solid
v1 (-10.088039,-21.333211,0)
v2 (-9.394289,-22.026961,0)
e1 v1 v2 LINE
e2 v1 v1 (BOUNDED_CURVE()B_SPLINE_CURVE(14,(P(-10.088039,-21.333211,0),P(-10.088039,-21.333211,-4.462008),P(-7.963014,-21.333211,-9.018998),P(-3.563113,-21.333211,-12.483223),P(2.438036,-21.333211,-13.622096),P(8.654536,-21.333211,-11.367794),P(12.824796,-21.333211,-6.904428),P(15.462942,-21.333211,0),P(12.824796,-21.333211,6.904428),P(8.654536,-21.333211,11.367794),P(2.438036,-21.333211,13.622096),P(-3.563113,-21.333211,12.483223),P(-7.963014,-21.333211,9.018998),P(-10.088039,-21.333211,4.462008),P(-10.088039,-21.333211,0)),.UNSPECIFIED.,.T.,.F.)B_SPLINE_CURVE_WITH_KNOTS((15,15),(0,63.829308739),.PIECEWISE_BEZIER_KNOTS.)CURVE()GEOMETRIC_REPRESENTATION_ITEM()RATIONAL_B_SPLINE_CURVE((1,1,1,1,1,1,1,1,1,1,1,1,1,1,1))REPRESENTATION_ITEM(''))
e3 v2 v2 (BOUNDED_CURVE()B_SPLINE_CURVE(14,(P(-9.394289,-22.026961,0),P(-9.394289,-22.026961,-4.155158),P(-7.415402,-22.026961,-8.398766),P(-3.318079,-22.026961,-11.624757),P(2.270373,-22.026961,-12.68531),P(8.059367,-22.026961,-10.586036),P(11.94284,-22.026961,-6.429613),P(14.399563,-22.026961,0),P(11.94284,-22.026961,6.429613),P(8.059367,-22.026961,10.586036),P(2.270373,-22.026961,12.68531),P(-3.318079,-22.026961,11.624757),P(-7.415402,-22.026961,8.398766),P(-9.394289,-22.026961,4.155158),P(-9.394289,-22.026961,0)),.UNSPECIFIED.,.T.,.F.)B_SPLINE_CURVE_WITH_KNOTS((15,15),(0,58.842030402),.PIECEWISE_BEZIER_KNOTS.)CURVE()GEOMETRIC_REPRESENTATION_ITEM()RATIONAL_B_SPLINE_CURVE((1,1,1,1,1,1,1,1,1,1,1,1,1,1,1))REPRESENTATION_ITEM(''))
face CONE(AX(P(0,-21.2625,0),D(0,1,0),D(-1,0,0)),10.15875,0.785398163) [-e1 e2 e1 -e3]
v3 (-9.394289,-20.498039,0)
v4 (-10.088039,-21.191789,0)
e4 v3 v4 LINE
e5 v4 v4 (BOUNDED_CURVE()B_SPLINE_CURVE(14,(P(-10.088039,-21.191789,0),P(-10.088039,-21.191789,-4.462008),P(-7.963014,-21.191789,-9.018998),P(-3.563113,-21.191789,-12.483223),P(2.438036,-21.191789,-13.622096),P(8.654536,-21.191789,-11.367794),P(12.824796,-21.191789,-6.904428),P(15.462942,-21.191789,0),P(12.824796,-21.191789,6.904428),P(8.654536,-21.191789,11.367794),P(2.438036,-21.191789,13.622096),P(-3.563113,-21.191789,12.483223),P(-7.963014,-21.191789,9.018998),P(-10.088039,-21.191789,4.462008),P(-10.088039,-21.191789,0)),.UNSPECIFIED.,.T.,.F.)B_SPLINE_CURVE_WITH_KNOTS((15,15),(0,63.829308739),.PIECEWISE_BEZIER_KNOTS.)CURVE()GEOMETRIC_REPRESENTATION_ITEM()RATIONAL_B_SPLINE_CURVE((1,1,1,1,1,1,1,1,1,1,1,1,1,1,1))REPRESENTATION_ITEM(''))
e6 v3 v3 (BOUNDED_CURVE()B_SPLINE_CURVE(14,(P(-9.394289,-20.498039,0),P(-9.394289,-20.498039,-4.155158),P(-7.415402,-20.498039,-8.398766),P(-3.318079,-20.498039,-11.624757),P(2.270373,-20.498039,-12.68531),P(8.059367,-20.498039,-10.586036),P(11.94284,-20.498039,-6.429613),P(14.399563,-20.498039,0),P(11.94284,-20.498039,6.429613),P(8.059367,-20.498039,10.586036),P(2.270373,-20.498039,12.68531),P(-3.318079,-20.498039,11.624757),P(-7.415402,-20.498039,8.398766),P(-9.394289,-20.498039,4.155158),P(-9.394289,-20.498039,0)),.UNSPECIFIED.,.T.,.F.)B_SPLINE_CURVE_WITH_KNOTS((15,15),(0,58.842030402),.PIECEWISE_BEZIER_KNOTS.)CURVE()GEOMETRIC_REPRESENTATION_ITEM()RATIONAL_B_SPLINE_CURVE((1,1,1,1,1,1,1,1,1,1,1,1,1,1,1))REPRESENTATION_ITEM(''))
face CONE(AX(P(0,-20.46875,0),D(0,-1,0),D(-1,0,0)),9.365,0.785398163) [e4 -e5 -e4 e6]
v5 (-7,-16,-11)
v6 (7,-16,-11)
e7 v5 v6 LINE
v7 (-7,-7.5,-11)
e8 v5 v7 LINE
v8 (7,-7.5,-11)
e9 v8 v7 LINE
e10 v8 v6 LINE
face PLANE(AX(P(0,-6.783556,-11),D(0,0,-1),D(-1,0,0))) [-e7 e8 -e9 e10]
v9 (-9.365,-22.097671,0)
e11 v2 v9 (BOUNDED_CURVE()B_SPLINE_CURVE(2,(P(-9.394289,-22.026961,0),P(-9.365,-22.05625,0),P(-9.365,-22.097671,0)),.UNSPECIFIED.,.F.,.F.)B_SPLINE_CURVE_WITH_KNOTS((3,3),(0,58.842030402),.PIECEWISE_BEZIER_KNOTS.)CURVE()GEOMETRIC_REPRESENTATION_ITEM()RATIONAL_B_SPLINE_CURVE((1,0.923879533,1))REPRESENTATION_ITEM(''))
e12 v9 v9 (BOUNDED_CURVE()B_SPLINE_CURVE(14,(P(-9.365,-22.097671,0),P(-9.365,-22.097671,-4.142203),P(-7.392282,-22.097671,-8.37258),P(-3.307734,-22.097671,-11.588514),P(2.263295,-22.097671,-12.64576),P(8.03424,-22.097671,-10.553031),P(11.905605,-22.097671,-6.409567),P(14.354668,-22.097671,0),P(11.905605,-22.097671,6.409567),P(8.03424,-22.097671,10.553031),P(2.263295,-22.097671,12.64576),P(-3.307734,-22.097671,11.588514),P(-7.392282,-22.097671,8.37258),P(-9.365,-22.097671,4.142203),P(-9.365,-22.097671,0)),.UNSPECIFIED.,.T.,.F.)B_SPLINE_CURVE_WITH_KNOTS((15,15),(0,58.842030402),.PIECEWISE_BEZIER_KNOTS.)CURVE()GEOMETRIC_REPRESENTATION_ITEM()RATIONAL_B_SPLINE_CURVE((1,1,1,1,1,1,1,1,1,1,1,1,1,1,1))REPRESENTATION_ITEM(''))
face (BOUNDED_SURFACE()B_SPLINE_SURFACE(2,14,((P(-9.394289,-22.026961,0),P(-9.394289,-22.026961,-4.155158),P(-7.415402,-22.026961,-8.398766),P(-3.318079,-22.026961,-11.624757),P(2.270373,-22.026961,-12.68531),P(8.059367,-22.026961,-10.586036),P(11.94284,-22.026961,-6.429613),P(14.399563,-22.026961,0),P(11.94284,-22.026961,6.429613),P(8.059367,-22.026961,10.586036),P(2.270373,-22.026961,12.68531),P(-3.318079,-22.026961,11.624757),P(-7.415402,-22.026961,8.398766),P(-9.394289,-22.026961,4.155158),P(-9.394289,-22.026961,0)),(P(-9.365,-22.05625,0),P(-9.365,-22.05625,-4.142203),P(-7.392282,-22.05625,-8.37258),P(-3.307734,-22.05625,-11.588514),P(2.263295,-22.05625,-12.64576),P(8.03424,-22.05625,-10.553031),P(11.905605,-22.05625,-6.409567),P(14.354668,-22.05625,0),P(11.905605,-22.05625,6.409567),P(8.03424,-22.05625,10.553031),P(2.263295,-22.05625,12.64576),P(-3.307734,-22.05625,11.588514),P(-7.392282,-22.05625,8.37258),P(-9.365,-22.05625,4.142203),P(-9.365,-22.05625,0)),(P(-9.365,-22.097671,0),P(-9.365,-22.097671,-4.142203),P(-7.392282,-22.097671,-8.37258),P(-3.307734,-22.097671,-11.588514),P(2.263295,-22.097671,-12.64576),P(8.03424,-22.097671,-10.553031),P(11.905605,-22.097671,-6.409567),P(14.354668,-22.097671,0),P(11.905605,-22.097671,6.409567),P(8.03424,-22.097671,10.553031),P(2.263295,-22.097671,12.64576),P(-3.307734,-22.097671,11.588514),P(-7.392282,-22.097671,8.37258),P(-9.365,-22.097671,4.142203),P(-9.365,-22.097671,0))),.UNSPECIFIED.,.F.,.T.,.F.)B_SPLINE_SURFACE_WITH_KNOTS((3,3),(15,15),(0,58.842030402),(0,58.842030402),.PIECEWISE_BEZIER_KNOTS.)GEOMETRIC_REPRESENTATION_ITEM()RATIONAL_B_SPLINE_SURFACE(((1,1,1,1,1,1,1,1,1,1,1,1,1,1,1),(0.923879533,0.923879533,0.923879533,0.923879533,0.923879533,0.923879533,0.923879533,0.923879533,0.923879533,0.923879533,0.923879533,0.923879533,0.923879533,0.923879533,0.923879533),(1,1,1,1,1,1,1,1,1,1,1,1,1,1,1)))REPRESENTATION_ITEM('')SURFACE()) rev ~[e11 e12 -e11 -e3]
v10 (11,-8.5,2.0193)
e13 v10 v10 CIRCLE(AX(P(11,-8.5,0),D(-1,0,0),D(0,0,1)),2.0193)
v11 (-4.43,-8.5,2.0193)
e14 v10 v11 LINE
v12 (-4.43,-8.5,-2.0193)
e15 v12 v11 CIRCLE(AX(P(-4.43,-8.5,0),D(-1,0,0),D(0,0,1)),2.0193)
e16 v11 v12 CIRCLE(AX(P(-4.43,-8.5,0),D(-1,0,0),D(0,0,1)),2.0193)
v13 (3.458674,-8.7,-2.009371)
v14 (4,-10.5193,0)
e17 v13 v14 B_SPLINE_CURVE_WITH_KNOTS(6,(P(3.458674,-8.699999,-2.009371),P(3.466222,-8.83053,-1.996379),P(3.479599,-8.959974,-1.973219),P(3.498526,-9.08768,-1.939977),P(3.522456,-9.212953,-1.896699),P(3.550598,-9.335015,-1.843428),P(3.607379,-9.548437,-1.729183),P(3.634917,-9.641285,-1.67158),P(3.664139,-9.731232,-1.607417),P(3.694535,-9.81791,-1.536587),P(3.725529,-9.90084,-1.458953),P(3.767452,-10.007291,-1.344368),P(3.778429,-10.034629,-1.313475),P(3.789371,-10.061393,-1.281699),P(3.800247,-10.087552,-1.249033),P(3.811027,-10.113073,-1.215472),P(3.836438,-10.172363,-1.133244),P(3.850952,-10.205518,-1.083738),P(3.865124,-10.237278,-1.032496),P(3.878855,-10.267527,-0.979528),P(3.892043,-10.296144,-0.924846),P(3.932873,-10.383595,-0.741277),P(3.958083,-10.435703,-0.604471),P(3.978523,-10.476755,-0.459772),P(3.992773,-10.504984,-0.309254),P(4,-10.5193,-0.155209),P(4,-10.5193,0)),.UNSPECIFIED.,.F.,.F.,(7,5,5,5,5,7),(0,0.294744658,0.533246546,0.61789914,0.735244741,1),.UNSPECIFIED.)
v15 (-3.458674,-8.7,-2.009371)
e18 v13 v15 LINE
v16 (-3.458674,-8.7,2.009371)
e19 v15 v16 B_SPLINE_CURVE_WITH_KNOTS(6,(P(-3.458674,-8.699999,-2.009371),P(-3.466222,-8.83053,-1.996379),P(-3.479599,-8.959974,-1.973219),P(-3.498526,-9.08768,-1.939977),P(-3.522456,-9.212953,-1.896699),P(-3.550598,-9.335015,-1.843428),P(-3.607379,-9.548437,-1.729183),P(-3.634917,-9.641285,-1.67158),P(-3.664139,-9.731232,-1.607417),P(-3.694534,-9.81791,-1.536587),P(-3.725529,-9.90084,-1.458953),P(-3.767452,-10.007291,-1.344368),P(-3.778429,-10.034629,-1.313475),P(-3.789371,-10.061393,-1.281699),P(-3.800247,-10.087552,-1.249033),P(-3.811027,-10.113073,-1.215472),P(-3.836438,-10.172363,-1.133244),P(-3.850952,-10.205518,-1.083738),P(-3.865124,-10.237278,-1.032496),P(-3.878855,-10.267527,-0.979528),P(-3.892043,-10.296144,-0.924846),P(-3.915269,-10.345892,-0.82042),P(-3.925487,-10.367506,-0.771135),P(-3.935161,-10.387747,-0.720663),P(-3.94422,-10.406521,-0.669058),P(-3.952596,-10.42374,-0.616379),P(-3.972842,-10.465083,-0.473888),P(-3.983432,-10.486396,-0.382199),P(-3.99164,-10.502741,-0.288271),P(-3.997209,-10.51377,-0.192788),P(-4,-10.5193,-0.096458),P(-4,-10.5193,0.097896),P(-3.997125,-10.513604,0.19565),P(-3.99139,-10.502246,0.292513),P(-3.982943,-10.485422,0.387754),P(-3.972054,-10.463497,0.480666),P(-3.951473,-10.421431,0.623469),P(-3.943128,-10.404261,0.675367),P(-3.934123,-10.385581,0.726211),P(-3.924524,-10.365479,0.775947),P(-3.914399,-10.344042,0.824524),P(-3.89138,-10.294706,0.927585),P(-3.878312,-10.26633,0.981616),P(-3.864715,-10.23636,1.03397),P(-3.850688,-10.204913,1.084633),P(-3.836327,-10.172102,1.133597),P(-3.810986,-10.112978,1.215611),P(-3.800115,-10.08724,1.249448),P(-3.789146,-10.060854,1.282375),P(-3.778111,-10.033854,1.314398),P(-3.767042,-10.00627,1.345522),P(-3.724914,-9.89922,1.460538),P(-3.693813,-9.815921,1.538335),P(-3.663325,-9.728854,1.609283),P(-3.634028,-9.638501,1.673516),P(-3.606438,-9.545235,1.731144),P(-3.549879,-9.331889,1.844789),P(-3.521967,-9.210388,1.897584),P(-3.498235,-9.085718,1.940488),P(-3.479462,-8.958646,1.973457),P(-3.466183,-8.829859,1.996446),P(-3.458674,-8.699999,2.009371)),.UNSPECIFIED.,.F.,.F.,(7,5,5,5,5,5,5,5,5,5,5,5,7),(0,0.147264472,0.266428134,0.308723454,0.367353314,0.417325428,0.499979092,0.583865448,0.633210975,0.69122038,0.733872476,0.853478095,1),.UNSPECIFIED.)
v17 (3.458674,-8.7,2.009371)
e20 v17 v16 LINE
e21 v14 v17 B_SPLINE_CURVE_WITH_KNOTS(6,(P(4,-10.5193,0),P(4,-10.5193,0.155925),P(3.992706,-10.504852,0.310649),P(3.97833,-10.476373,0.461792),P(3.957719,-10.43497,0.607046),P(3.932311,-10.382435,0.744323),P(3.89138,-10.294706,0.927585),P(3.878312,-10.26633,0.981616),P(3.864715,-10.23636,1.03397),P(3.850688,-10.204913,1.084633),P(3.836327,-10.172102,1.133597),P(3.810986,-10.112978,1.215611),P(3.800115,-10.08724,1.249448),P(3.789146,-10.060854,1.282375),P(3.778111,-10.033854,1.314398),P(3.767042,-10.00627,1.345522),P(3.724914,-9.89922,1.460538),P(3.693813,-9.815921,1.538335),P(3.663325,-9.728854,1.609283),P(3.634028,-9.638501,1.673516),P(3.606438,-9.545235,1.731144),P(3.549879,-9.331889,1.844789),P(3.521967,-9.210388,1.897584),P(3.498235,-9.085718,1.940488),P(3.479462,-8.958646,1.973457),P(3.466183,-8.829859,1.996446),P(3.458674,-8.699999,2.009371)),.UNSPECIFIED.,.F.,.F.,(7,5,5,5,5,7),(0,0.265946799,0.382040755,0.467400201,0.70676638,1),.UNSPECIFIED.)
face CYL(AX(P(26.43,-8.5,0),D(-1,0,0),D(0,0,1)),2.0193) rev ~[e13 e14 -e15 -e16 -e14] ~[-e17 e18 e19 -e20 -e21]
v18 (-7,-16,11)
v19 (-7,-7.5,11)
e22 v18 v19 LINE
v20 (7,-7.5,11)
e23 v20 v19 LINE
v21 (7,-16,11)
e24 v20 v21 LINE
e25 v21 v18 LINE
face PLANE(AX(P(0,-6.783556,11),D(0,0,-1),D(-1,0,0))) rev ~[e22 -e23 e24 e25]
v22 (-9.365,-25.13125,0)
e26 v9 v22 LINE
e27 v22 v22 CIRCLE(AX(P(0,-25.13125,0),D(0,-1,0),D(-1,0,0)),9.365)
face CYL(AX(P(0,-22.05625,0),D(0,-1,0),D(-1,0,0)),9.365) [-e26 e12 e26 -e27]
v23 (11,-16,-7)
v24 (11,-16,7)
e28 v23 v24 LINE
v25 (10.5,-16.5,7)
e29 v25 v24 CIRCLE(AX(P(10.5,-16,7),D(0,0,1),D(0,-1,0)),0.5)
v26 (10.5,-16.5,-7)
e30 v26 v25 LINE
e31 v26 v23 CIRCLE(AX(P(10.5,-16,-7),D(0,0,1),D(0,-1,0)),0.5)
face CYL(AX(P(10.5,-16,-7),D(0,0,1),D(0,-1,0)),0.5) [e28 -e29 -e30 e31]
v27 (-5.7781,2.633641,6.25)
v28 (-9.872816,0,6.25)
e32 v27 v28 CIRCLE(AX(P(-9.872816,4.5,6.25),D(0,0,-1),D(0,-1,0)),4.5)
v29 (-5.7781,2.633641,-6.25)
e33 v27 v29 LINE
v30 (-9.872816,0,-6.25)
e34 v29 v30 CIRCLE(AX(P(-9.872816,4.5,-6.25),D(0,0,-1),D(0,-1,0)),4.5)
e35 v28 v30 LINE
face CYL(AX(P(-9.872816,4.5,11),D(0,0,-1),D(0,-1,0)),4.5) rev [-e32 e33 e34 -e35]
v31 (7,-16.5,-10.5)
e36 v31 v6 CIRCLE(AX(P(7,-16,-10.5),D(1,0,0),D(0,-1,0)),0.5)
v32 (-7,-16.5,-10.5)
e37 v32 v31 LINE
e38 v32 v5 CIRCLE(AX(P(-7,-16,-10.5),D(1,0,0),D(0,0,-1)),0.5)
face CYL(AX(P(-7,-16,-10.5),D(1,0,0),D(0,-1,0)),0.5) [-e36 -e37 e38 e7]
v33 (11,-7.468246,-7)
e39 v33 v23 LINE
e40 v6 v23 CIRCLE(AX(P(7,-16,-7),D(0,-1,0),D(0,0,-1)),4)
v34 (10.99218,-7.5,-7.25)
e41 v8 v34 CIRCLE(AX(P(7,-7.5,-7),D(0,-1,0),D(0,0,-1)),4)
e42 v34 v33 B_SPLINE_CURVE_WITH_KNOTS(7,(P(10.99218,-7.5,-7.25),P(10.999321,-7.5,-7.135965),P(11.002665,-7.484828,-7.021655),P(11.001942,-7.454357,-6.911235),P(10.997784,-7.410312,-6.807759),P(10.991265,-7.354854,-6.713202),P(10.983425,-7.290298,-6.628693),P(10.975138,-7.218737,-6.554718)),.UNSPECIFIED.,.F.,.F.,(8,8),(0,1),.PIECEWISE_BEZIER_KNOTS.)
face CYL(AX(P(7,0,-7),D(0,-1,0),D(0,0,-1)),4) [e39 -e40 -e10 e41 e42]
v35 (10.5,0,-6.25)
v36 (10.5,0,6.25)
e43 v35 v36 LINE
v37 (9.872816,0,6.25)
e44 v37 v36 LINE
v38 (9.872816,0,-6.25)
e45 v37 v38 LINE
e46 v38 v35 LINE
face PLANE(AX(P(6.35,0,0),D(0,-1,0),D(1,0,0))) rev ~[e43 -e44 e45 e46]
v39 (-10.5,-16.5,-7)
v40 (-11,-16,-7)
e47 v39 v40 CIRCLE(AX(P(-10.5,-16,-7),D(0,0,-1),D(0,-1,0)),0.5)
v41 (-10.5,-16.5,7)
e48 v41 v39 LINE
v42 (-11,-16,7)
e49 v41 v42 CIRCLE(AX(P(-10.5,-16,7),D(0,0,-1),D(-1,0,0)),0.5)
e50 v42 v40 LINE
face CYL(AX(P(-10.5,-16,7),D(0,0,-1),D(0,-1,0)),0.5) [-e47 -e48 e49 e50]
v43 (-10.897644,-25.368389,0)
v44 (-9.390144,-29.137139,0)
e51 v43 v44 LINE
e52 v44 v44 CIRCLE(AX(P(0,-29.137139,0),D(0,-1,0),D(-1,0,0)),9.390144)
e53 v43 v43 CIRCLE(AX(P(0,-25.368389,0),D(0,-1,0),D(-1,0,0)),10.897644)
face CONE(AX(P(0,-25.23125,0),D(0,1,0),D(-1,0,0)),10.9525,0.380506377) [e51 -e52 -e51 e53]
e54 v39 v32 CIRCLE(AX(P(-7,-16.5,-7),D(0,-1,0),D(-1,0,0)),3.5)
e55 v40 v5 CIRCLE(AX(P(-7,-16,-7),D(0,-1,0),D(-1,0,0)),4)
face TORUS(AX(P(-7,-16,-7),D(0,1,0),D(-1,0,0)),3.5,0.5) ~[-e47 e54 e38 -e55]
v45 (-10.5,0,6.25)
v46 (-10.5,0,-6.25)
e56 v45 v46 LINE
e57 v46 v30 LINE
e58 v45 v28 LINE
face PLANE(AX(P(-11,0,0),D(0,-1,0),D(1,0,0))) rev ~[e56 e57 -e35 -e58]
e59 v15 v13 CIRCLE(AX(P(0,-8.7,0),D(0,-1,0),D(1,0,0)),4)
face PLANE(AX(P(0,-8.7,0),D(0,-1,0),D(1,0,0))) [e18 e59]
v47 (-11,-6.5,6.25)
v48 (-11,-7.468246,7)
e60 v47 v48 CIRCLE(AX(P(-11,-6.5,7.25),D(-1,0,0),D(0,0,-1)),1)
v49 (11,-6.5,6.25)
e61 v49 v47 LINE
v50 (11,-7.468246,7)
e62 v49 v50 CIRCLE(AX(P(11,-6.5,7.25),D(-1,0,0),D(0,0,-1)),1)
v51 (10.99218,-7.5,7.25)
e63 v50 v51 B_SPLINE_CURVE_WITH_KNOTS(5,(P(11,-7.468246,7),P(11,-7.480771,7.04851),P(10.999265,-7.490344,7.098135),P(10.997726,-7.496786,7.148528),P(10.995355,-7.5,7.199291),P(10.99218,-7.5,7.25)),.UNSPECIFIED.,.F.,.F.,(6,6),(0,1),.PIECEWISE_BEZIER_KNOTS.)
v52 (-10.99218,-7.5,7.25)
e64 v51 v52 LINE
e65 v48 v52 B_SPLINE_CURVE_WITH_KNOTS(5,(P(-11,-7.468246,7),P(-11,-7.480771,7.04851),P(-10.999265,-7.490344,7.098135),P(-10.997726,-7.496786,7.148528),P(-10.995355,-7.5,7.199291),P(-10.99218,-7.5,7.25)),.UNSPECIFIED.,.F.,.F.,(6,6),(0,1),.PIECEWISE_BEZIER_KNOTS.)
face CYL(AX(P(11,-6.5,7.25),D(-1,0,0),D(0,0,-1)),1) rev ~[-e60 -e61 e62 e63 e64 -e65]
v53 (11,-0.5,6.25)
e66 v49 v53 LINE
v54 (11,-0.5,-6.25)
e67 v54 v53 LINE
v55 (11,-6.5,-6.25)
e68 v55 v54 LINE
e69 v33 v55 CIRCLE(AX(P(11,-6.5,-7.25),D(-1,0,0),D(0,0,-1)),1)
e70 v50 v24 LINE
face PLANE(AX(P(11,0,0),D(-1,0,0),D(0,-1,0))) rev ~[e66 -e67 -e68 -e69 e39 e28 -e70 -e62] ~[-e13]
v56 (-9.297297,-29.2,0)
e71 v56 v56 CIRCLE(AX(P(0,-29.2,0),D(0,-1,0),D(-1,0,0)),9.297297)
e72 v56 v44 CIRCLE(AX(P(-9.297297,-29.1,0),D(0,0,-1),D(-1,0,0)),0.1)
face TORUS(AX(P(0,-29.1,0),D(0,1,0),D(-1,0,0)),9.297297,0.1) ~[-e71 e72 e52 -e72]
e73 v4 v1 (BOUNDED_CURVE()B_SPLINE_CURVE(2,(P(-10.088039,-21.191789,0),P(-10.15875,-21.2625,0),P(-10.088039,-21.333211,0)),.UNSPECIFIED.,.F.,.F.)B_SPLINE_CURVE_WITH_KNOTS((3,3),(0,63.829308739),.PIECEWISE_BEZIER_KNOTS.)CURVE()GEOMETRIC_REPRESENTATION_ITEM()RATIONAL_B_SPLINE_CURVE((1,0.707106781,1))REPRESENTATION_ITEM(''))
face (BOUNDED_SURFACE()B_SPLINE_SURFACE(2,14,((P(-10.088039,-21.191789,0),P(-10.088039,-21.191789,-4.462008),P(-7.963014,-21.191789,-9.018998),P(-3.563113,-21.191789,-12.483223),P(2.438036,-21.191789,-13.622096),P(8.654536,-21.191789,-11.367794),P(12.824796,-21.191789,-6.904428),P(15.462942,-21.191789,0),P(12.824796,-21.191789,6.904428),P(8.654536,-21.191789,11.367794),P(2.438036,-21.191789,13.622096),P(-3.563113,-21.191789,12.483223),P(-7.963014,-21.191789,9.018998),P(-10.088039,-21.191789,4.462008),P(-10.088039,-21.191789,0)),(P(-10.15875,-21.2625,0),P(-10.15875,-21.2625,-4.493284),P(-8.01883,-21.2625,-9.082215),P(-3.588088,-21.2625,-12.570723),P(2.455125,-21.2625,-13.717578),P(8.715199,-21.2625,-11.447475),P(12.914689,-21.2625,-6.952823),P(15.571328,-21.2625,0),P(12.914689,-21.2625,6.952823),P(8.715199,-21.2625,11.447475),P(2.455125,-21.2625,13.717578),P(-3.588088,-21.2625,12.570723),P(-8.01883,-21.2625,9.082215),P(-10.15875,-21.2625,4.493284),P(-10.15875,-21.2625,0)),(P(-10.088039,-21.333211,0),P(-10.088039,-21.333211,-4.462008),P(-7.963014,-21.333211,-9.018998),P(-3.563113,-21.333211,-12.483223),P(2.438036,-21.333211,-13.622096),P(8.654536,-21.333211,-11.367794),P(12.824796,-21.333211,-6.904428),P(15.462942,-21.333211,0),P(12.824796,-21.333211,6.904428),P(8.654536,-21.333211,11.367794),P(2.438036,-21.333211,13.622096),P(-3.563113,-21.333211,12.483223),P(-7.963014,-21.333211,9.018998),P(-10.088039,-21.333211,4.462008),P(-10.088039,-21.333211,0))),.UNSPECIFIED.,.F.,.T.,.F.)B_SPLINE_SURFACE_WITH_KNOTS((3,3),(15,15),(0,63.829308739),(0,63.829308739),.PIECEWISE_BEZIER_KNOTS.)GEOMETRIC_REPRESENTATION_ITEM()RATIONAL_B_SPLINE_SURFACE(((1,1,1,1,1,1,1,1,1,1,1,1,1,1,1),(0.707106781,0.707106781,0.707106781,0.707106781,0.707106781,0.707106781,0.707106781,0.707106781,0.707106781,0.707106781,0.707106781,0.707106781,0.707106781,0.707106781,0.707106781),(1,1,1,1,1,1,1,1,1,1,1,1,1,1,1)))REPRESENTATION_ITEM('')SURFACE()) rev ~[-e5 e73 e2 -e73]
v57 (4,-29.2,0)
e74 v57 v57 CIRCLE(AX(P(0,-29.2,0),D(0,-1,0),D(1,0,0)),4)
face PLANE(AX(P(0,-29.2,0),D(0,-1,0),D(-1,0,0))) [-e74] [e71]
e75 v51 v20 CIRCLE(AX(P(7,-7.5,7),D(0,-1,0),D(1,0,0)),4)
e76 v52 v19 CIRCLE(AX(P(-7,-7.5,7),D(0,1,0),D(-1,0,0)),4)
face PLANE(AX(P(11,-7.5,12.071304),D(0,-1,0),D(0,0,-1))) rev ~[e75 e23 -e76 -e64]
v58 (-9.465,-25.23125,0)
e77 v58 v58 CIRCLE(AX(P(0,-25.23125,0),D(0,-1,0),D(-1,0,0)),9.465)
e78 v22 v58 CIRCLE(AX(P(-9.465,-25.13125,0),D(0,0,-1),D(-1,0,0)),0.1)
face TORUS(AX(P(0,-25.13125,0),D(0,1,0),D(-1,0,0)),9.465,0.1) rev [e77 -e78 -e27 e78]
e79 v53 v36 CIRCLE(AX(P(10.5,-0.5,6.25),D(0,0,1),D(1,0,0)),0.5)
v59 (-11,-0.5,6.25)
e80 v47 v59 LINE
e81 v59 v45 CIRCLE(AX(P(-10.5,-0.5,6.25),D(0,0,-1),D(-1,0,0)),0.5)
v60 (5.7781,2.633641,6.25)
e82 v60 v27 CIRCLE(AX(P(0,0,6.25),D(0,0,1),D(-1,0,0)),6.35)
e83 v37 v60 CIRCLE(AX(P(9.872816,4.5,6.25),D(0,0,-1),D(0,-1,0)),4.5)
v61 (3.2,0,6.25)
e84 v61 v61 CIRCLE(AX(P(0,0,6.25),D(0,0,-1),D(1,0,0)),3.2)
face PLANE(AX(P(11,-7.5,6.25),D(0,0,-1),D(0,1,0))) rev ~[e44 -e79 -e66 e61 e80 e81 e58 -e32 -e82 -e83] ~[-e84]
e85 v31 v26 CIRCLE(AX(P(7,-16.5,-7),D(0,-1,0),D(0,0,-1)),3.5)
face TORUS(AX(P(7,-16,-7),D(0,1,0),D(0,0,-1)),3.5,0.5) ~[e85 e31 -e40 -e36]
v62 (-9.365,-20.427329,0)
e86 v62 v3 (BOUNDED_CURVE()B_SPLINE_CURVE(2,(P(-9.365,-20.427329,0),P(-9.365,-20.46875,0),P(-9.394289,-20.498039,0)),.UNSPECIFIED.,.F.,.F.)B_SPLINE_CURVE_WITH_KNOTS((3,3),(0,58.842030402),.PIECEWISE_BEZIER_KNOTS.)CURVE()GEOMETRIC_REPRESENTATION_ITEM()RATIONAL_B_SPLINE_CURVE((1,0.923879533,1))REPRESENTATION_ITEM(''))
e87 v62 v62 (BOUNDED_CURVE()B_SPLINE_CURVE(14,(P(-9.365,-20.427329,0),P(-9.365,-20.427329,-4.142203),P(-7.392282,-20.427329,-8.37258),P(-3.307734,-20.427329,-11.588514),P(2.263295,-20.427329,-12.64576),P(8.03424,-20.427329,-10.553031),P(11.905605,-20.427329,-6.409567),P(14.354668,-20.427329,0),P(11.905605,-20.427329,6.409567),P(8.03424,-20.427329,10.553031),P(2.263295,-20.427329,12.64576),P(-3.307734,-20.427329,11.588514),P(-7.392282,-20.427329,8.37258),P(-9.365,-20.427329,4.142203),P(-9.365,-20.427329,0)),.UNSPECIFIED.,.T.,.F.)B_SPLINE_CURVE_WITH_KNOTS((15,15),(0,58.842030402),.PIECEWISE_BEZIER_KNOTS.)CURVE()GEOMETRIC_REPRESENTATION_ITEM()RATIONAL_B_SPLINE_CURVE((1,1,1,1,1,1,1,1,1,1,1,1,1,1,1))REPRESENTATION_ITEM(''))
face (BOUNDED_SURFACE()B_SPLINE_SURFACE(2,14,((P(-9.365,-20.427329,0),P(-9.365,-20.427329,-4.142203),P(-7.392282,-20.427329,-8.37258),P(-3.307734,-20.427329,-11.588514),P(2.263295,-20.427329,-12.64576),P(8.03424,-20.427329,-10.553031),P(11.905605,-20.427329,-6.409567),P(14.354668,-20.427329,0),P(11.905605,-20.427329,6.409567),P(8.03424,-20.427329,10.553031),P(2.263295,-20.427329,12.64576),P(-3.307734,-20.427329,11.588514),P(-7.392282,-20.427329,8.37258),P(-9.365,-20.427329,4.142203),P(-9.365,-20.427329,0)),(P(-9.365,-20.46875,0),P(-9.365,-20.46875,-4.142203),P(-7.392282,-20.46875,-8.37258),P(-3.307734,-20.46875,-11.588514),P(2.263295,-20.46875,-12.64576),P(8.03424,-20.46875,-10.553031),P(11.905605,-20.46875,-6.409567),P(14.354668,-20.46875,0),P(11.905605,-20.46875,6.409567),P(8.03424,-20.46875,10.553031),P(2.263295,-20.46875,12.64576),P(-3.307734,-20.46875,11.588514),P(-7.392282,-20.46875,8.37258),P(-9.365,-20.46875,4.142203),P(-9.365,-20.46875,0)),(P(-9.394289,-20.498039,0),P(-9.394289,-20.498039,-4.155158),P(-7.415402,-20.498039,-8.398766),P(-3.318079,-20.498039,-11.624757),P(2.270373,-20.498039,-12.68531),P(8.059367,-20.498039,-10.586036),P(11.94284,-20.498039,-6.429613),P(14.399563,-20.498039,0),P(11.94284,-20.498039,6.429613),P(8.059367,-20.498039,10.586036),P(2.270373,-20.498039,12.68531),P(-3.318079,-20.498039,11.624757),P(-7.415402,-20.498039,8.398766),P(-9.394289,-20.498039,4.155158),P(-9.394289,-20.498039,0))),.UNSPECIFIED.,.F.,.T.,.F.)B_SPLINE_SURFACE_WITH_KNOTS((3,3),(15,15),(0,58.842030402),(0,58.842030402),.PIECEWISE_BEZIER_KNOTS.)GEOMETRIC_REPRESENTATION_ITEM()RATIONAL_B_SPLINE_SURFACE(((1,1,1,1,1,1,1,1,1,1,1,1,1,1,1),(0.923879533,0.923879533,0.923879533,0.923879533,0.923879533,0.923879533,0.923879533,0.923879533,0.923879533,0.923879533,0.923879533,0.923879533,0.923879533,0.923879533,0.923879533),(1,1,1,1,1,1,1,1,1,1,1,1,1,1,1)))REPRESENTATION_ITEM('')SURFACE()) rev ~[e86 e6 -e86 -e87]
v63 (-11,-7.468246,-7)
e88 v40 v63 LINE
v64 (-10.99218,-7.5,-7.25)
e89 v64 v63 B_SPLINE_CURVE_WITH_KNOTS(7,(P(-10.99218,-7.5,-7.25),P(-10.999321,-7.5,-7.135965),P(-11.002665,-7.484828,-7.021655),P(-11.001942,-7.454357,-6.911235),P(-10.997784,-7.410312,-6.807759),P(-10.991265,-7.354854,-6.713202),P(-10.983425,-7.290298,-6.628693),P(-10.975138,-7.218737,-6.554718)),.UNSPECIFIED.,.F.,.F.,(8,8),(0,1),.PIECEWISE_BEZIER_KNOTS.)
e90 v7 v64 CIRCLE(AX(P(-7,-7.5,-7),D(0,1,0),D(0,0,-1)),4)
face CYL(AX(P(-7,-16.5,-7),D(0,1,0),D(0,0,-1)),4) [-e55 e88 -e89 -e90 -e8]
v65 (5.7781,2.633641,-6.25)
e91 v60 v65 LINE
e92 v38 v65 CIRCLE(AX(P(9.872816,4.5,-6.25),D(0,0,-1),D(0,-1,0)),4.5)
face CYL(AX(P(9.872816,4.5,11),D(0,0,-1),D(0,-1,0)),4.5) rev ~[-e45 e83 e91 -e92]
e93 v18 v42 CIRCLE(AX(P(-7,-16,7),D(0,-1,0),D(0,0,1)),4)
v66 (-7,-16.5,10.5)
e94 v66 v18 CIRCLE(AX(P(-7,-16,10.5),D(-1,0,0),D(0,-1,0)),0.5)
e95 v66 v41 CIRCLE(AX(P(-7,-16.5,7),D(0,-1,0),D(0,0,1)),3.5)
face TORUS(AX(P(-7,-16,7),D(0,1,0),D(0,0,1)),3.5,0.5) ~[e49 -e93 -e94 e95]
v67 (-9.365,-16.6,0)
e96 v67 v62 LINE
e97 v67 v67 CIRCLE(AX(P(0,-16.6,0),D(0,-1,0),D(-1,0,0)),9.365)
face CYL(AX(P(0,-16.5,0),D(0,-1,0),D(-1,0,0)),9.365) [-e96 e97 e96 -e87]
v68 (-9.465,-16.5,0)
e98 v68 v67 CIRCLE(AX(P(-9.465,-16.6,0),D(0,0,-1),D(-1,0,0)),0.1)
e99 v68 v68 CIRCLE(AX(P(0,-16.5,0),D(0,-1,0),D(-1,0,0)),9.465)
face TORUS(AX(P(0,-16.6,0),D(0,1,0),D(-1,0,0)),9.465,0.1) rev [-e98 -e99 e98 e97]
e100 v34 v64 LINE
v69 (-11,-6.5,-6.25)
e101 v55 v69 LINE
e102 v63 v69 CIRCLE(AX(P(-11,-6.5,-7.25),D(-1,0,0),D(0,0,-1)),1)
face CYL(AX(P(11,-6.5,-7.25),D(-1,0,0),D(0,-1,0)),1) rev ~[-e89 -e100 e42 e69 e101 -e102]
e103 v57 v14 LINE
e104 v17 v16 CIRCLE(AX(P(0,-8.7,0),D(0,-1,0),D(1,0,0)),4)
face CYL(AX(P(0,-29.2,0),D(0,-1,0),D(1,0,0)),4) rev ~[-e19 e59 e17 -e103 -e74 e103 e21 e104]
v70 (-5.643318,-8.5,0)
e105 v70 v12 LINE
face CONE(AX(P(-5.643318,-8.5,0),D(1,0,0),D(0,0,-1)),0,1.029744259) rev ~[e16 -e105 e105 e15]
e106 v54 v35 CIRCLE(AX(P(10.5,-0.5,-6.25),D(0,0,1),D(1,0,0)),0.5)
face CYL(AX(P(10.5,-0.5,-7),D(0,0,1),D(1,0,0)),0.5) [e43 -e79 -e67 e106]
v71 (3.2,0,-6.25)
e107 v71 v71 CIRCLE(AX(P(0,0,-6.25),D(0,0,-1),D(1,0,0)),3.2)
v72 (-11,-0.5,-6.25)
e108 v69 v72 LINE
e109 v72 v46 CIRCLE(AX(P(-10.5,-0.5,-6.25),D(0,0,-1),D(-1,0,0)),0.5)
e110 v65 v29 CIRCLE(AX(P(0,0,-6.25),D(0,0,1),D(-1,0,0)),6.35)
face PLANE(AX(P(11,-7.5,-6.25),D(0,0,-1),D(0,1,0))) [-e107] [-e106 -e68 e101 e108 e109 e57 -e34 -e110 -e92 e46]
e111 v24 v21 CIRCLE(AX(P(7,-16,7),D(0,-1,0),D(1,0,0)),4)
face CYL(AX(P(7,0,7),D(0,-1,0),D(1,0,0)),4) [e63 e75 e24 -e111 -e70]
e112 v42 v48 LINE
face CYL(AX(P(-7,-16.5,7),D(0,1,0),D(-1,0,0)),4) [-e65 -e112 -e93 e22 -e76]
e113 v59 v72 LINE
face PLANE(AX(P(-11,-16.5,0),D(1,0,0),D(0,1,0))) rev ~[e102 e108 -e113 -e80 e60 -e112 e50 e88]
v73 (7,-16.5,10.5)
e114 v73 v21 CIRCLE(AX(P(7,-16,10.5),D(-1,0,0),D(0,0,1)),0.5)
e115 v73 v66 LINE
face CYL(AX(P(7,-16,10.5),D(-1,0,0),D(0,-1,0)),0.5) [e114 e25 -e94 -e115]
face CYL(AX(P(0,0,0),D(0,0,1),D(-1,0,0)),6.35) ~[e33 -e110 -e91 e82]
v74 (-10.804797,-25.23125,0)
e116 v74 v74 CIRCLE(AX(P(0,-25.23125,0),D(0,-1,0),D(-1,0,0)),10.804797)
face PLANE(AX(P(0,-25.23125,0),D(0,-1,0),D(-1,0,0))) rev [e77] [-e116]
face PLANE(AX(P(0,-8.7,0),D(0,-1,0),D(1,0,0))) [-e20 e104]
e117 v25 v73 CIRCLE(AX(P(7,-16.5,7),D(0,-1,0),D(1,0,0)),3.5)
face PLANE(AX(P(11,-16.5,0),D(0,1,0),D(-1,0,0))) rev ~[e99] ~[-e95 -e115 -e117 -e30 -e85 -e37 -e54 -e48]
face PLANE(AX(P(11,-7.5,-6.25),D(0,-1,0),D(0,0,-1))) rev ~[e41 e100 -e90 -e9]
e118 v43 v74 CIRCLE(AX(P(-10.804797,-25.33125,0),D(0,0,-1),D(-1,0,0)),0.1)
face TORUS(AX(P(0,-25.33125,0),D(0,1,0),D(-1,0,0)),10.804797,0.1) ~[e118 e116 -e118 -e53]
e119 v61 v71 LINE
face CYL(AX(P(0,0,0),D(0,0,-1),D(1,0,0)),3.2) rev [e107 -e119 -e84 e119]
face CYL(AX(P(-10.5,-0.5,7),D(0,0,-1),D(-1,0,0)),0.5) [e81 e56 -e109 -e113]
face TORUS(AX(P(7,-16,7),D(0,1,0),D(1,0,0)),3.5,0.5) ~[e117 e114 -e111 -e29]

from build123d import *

# Parameters (mm, degrees)
SKETCH1_R                  = 3.2
BOSS_EXTRUDE1_DEPTH        = 11
SKETCH3_R                  = 4
CUT_EXTRUDE1_DEPTH         = 20.5
F_10_32_TAPPED_HOLE1_D     = 4.0386
F_10_32_TAPPED_HOLE1_DEPTH = 15.43
F_10_32_TAPPED_HOLE1_TIP   = 1.213317848
FILLET3_R                  = 0.1
FILLET7_R                  = 4.5
FILLET6_R                  = 4
FILLET8_R                  = 0.5
SKETCH7_W                  = 5.821303724
SKETCH7_H                  = 14.104820839
CUT_EXTRUDE3_DEPTH         = 39.179052011
FILLET9_R                  = 1


with BuildPart() as part:
    # Sketch1 → Boss-Extrude1 (new, symmetric)
    with BuildSketch(Plane.XY):
        with BuildLine():
            Line((-11, 0), (-6.35, 0))
            ThreePointArc((-6.35, 0), (0, 6.35), (6.35, 0))
            Line((6.35, 0), (11, 0))
            Line((11, 0), (11, -16.5))
            Line((11, -16.5), (-11, -16.5))
            Line((-11, -16.5), (-11, 0))
        make_face()
        Circle(SKETCH1_R, mode=Mode.SUBTRACT)
    extrude(amount=BOSS_EXTRUDE1_DEPTH, both=True)

    # Sketch2 → Revolve1 (revolve)
    with BuildSketch(Plane.XY, mode=Mode.PRIVATE) as revolve1_sk:
        Polygon((0, -16.5), (9.365, -16.5), (9.365, -20.46875), (10.15875, -21.2625), (9.365, -22.05625), (9.365, -25.23125), (10.9525, -25.23125), (9.365, -29.2), (0, -29.2), align=None)
    revolve(revolve1_sk.sketch.rotate(Axis((0, 9.54404991, 0), (0, -1, 0)), 180), axis=Axis((0, 9.54404991, 0), (0, -1, 0)))

    # Sketch3 → Cut-Extrude1 (cut)
    with BuildSketch(Plane.XZ.offset(29.2)):
        Circle(SKETCH3_R)
    extrude(amount=-CUT_EXTRUDE1_DEPTH, mode=Mode.SUBTRACT)

    # #10-32 Tapped Hole1
    with Locations(Plane(origin=(11, 0, 0), x_dir=(0, 0, -1), z_dir=(1, 0, 0))):
        with Locations((0, -8.5)):
            Hole(F_10_32_TAPPED_HOLE1_D / 2, depth=F_10_32_TAPPED_HOLE1_DEPTH)
            with Locations((0, 0, -(F_10_32_TAPPED_HOLE1_DEPTH + F_10_32_TAPPED_HOLE1_TIP / 2))):  # 118° drill point
                Cone(0, F_10_32_TAPPED_HOLE1_D / 2, F_10_32_TAPPED_HOLE1_TIP, mode=Mode.SUBTRACT)

    # Fillet3
    fillet3_edges = [part.edges().sort_by_distance(p)[0] for p in [
        (9.365, -16.5, 0),
        (9.365, -20.46875, 0),
        (10.15875, -21.2625, 0),
        (9.365, -22.05625, 0),
        (9.365, -25.23125, 0),
        (10.9525, -25.23125, 0),
        (9.365, -29.2, 0),
    ]]
    fillet(fillet3_edges, radius=FILLET3_R)

    # Fillet7
    fillet7_edges = [part.edges().sort_by_distance(p)[0] for p in [
        (6.35, 0, 0),
        (-6.35, 0, 0),
    ]]
    fillet(fillet7_edges, radius=FILLET7_R)

    # Fillet6
    fillet6_edges = [part.edges().sort_by_distance(p)[0] for p in [
        (11, -8.25, -11),
        (-11, -8.25, -11),
        (-11, -8.25, 11),
        (11, -8.25, 11),
    ]]
    fillet(fillet6_edges, radius=FILLET6_R)

    # Fillet8
    fillet8_edges = [part.edges().sort_by_distance(p)[0] for p in [
        (0, 6.35, -11),
        (0, 6.35, 11),
        (-6.298677383, 1.765858158, 11),
        (6.298677383, 1.765858158, -11),
        (11, 0, 0),
        (11, -16.5, 0),
        (10.707510274, 0, 8.501455151),
        (10.707510274, 0, -8.501455151),
        (6.298677383, 1.765858158, 11),
        (8.469550334, 0.224389567, 10.720271757),
        (8.469550334, 0.224389567, -10.720271757),
        (0, -16.5, -11),
        (-6.298677383, 1.765858158, -11),
        (0, -16.5, 11),
        (-11, -16.5, 0),
        (9.828427125, -16.5, 9.828427125),
        (-9.828427125, -16.5, 9.828427125),
        (-9.828427125, -16.5, -9.828427125),
        (9.828427125, -16.5, -9.828427125),
        (-11, 0, 0),
        (-8.469550334, 0.224389567, 10.720271757),
        (-8.469550334, 0.224389567, -10.720271757),
        (-10.707510274, 0, 8.501455151),
        (-10.707510274, 0, -8.501455151),
    ]]
    fillet(fillet8_edges, radius=FILLET8_R)

    # Sketch7 → Cut-Extrude3 (cut, through all)
    with BuildSketch(Plane(origin=(11, 0, 0), x_dir=(0, 0, -1), z_dir=(1, 0, 0))):
        with Locations((-9.160651862, -0.447589581)):
            Rectangle(SKETCH7_W, SKETCH7_H)
        with Locations((9.160651862, -0.447589581)):
            Rectangle(SKETCH7_W, SKETCH7_H)
    extrude(amount=-CUT_EXTRUDE3_DEPTH, mode=Mode.SUBTRACT)

    # Fillet9
    fillet9_edges = [part.edges().sort_by_distance(p)[0] for p in [
        (0, -7.5, -6.25),
        (0, -7.5, 6.25),
    ]]
    fillet(fillet9_edges, radius=FILLET9_R)


solid = part.part
